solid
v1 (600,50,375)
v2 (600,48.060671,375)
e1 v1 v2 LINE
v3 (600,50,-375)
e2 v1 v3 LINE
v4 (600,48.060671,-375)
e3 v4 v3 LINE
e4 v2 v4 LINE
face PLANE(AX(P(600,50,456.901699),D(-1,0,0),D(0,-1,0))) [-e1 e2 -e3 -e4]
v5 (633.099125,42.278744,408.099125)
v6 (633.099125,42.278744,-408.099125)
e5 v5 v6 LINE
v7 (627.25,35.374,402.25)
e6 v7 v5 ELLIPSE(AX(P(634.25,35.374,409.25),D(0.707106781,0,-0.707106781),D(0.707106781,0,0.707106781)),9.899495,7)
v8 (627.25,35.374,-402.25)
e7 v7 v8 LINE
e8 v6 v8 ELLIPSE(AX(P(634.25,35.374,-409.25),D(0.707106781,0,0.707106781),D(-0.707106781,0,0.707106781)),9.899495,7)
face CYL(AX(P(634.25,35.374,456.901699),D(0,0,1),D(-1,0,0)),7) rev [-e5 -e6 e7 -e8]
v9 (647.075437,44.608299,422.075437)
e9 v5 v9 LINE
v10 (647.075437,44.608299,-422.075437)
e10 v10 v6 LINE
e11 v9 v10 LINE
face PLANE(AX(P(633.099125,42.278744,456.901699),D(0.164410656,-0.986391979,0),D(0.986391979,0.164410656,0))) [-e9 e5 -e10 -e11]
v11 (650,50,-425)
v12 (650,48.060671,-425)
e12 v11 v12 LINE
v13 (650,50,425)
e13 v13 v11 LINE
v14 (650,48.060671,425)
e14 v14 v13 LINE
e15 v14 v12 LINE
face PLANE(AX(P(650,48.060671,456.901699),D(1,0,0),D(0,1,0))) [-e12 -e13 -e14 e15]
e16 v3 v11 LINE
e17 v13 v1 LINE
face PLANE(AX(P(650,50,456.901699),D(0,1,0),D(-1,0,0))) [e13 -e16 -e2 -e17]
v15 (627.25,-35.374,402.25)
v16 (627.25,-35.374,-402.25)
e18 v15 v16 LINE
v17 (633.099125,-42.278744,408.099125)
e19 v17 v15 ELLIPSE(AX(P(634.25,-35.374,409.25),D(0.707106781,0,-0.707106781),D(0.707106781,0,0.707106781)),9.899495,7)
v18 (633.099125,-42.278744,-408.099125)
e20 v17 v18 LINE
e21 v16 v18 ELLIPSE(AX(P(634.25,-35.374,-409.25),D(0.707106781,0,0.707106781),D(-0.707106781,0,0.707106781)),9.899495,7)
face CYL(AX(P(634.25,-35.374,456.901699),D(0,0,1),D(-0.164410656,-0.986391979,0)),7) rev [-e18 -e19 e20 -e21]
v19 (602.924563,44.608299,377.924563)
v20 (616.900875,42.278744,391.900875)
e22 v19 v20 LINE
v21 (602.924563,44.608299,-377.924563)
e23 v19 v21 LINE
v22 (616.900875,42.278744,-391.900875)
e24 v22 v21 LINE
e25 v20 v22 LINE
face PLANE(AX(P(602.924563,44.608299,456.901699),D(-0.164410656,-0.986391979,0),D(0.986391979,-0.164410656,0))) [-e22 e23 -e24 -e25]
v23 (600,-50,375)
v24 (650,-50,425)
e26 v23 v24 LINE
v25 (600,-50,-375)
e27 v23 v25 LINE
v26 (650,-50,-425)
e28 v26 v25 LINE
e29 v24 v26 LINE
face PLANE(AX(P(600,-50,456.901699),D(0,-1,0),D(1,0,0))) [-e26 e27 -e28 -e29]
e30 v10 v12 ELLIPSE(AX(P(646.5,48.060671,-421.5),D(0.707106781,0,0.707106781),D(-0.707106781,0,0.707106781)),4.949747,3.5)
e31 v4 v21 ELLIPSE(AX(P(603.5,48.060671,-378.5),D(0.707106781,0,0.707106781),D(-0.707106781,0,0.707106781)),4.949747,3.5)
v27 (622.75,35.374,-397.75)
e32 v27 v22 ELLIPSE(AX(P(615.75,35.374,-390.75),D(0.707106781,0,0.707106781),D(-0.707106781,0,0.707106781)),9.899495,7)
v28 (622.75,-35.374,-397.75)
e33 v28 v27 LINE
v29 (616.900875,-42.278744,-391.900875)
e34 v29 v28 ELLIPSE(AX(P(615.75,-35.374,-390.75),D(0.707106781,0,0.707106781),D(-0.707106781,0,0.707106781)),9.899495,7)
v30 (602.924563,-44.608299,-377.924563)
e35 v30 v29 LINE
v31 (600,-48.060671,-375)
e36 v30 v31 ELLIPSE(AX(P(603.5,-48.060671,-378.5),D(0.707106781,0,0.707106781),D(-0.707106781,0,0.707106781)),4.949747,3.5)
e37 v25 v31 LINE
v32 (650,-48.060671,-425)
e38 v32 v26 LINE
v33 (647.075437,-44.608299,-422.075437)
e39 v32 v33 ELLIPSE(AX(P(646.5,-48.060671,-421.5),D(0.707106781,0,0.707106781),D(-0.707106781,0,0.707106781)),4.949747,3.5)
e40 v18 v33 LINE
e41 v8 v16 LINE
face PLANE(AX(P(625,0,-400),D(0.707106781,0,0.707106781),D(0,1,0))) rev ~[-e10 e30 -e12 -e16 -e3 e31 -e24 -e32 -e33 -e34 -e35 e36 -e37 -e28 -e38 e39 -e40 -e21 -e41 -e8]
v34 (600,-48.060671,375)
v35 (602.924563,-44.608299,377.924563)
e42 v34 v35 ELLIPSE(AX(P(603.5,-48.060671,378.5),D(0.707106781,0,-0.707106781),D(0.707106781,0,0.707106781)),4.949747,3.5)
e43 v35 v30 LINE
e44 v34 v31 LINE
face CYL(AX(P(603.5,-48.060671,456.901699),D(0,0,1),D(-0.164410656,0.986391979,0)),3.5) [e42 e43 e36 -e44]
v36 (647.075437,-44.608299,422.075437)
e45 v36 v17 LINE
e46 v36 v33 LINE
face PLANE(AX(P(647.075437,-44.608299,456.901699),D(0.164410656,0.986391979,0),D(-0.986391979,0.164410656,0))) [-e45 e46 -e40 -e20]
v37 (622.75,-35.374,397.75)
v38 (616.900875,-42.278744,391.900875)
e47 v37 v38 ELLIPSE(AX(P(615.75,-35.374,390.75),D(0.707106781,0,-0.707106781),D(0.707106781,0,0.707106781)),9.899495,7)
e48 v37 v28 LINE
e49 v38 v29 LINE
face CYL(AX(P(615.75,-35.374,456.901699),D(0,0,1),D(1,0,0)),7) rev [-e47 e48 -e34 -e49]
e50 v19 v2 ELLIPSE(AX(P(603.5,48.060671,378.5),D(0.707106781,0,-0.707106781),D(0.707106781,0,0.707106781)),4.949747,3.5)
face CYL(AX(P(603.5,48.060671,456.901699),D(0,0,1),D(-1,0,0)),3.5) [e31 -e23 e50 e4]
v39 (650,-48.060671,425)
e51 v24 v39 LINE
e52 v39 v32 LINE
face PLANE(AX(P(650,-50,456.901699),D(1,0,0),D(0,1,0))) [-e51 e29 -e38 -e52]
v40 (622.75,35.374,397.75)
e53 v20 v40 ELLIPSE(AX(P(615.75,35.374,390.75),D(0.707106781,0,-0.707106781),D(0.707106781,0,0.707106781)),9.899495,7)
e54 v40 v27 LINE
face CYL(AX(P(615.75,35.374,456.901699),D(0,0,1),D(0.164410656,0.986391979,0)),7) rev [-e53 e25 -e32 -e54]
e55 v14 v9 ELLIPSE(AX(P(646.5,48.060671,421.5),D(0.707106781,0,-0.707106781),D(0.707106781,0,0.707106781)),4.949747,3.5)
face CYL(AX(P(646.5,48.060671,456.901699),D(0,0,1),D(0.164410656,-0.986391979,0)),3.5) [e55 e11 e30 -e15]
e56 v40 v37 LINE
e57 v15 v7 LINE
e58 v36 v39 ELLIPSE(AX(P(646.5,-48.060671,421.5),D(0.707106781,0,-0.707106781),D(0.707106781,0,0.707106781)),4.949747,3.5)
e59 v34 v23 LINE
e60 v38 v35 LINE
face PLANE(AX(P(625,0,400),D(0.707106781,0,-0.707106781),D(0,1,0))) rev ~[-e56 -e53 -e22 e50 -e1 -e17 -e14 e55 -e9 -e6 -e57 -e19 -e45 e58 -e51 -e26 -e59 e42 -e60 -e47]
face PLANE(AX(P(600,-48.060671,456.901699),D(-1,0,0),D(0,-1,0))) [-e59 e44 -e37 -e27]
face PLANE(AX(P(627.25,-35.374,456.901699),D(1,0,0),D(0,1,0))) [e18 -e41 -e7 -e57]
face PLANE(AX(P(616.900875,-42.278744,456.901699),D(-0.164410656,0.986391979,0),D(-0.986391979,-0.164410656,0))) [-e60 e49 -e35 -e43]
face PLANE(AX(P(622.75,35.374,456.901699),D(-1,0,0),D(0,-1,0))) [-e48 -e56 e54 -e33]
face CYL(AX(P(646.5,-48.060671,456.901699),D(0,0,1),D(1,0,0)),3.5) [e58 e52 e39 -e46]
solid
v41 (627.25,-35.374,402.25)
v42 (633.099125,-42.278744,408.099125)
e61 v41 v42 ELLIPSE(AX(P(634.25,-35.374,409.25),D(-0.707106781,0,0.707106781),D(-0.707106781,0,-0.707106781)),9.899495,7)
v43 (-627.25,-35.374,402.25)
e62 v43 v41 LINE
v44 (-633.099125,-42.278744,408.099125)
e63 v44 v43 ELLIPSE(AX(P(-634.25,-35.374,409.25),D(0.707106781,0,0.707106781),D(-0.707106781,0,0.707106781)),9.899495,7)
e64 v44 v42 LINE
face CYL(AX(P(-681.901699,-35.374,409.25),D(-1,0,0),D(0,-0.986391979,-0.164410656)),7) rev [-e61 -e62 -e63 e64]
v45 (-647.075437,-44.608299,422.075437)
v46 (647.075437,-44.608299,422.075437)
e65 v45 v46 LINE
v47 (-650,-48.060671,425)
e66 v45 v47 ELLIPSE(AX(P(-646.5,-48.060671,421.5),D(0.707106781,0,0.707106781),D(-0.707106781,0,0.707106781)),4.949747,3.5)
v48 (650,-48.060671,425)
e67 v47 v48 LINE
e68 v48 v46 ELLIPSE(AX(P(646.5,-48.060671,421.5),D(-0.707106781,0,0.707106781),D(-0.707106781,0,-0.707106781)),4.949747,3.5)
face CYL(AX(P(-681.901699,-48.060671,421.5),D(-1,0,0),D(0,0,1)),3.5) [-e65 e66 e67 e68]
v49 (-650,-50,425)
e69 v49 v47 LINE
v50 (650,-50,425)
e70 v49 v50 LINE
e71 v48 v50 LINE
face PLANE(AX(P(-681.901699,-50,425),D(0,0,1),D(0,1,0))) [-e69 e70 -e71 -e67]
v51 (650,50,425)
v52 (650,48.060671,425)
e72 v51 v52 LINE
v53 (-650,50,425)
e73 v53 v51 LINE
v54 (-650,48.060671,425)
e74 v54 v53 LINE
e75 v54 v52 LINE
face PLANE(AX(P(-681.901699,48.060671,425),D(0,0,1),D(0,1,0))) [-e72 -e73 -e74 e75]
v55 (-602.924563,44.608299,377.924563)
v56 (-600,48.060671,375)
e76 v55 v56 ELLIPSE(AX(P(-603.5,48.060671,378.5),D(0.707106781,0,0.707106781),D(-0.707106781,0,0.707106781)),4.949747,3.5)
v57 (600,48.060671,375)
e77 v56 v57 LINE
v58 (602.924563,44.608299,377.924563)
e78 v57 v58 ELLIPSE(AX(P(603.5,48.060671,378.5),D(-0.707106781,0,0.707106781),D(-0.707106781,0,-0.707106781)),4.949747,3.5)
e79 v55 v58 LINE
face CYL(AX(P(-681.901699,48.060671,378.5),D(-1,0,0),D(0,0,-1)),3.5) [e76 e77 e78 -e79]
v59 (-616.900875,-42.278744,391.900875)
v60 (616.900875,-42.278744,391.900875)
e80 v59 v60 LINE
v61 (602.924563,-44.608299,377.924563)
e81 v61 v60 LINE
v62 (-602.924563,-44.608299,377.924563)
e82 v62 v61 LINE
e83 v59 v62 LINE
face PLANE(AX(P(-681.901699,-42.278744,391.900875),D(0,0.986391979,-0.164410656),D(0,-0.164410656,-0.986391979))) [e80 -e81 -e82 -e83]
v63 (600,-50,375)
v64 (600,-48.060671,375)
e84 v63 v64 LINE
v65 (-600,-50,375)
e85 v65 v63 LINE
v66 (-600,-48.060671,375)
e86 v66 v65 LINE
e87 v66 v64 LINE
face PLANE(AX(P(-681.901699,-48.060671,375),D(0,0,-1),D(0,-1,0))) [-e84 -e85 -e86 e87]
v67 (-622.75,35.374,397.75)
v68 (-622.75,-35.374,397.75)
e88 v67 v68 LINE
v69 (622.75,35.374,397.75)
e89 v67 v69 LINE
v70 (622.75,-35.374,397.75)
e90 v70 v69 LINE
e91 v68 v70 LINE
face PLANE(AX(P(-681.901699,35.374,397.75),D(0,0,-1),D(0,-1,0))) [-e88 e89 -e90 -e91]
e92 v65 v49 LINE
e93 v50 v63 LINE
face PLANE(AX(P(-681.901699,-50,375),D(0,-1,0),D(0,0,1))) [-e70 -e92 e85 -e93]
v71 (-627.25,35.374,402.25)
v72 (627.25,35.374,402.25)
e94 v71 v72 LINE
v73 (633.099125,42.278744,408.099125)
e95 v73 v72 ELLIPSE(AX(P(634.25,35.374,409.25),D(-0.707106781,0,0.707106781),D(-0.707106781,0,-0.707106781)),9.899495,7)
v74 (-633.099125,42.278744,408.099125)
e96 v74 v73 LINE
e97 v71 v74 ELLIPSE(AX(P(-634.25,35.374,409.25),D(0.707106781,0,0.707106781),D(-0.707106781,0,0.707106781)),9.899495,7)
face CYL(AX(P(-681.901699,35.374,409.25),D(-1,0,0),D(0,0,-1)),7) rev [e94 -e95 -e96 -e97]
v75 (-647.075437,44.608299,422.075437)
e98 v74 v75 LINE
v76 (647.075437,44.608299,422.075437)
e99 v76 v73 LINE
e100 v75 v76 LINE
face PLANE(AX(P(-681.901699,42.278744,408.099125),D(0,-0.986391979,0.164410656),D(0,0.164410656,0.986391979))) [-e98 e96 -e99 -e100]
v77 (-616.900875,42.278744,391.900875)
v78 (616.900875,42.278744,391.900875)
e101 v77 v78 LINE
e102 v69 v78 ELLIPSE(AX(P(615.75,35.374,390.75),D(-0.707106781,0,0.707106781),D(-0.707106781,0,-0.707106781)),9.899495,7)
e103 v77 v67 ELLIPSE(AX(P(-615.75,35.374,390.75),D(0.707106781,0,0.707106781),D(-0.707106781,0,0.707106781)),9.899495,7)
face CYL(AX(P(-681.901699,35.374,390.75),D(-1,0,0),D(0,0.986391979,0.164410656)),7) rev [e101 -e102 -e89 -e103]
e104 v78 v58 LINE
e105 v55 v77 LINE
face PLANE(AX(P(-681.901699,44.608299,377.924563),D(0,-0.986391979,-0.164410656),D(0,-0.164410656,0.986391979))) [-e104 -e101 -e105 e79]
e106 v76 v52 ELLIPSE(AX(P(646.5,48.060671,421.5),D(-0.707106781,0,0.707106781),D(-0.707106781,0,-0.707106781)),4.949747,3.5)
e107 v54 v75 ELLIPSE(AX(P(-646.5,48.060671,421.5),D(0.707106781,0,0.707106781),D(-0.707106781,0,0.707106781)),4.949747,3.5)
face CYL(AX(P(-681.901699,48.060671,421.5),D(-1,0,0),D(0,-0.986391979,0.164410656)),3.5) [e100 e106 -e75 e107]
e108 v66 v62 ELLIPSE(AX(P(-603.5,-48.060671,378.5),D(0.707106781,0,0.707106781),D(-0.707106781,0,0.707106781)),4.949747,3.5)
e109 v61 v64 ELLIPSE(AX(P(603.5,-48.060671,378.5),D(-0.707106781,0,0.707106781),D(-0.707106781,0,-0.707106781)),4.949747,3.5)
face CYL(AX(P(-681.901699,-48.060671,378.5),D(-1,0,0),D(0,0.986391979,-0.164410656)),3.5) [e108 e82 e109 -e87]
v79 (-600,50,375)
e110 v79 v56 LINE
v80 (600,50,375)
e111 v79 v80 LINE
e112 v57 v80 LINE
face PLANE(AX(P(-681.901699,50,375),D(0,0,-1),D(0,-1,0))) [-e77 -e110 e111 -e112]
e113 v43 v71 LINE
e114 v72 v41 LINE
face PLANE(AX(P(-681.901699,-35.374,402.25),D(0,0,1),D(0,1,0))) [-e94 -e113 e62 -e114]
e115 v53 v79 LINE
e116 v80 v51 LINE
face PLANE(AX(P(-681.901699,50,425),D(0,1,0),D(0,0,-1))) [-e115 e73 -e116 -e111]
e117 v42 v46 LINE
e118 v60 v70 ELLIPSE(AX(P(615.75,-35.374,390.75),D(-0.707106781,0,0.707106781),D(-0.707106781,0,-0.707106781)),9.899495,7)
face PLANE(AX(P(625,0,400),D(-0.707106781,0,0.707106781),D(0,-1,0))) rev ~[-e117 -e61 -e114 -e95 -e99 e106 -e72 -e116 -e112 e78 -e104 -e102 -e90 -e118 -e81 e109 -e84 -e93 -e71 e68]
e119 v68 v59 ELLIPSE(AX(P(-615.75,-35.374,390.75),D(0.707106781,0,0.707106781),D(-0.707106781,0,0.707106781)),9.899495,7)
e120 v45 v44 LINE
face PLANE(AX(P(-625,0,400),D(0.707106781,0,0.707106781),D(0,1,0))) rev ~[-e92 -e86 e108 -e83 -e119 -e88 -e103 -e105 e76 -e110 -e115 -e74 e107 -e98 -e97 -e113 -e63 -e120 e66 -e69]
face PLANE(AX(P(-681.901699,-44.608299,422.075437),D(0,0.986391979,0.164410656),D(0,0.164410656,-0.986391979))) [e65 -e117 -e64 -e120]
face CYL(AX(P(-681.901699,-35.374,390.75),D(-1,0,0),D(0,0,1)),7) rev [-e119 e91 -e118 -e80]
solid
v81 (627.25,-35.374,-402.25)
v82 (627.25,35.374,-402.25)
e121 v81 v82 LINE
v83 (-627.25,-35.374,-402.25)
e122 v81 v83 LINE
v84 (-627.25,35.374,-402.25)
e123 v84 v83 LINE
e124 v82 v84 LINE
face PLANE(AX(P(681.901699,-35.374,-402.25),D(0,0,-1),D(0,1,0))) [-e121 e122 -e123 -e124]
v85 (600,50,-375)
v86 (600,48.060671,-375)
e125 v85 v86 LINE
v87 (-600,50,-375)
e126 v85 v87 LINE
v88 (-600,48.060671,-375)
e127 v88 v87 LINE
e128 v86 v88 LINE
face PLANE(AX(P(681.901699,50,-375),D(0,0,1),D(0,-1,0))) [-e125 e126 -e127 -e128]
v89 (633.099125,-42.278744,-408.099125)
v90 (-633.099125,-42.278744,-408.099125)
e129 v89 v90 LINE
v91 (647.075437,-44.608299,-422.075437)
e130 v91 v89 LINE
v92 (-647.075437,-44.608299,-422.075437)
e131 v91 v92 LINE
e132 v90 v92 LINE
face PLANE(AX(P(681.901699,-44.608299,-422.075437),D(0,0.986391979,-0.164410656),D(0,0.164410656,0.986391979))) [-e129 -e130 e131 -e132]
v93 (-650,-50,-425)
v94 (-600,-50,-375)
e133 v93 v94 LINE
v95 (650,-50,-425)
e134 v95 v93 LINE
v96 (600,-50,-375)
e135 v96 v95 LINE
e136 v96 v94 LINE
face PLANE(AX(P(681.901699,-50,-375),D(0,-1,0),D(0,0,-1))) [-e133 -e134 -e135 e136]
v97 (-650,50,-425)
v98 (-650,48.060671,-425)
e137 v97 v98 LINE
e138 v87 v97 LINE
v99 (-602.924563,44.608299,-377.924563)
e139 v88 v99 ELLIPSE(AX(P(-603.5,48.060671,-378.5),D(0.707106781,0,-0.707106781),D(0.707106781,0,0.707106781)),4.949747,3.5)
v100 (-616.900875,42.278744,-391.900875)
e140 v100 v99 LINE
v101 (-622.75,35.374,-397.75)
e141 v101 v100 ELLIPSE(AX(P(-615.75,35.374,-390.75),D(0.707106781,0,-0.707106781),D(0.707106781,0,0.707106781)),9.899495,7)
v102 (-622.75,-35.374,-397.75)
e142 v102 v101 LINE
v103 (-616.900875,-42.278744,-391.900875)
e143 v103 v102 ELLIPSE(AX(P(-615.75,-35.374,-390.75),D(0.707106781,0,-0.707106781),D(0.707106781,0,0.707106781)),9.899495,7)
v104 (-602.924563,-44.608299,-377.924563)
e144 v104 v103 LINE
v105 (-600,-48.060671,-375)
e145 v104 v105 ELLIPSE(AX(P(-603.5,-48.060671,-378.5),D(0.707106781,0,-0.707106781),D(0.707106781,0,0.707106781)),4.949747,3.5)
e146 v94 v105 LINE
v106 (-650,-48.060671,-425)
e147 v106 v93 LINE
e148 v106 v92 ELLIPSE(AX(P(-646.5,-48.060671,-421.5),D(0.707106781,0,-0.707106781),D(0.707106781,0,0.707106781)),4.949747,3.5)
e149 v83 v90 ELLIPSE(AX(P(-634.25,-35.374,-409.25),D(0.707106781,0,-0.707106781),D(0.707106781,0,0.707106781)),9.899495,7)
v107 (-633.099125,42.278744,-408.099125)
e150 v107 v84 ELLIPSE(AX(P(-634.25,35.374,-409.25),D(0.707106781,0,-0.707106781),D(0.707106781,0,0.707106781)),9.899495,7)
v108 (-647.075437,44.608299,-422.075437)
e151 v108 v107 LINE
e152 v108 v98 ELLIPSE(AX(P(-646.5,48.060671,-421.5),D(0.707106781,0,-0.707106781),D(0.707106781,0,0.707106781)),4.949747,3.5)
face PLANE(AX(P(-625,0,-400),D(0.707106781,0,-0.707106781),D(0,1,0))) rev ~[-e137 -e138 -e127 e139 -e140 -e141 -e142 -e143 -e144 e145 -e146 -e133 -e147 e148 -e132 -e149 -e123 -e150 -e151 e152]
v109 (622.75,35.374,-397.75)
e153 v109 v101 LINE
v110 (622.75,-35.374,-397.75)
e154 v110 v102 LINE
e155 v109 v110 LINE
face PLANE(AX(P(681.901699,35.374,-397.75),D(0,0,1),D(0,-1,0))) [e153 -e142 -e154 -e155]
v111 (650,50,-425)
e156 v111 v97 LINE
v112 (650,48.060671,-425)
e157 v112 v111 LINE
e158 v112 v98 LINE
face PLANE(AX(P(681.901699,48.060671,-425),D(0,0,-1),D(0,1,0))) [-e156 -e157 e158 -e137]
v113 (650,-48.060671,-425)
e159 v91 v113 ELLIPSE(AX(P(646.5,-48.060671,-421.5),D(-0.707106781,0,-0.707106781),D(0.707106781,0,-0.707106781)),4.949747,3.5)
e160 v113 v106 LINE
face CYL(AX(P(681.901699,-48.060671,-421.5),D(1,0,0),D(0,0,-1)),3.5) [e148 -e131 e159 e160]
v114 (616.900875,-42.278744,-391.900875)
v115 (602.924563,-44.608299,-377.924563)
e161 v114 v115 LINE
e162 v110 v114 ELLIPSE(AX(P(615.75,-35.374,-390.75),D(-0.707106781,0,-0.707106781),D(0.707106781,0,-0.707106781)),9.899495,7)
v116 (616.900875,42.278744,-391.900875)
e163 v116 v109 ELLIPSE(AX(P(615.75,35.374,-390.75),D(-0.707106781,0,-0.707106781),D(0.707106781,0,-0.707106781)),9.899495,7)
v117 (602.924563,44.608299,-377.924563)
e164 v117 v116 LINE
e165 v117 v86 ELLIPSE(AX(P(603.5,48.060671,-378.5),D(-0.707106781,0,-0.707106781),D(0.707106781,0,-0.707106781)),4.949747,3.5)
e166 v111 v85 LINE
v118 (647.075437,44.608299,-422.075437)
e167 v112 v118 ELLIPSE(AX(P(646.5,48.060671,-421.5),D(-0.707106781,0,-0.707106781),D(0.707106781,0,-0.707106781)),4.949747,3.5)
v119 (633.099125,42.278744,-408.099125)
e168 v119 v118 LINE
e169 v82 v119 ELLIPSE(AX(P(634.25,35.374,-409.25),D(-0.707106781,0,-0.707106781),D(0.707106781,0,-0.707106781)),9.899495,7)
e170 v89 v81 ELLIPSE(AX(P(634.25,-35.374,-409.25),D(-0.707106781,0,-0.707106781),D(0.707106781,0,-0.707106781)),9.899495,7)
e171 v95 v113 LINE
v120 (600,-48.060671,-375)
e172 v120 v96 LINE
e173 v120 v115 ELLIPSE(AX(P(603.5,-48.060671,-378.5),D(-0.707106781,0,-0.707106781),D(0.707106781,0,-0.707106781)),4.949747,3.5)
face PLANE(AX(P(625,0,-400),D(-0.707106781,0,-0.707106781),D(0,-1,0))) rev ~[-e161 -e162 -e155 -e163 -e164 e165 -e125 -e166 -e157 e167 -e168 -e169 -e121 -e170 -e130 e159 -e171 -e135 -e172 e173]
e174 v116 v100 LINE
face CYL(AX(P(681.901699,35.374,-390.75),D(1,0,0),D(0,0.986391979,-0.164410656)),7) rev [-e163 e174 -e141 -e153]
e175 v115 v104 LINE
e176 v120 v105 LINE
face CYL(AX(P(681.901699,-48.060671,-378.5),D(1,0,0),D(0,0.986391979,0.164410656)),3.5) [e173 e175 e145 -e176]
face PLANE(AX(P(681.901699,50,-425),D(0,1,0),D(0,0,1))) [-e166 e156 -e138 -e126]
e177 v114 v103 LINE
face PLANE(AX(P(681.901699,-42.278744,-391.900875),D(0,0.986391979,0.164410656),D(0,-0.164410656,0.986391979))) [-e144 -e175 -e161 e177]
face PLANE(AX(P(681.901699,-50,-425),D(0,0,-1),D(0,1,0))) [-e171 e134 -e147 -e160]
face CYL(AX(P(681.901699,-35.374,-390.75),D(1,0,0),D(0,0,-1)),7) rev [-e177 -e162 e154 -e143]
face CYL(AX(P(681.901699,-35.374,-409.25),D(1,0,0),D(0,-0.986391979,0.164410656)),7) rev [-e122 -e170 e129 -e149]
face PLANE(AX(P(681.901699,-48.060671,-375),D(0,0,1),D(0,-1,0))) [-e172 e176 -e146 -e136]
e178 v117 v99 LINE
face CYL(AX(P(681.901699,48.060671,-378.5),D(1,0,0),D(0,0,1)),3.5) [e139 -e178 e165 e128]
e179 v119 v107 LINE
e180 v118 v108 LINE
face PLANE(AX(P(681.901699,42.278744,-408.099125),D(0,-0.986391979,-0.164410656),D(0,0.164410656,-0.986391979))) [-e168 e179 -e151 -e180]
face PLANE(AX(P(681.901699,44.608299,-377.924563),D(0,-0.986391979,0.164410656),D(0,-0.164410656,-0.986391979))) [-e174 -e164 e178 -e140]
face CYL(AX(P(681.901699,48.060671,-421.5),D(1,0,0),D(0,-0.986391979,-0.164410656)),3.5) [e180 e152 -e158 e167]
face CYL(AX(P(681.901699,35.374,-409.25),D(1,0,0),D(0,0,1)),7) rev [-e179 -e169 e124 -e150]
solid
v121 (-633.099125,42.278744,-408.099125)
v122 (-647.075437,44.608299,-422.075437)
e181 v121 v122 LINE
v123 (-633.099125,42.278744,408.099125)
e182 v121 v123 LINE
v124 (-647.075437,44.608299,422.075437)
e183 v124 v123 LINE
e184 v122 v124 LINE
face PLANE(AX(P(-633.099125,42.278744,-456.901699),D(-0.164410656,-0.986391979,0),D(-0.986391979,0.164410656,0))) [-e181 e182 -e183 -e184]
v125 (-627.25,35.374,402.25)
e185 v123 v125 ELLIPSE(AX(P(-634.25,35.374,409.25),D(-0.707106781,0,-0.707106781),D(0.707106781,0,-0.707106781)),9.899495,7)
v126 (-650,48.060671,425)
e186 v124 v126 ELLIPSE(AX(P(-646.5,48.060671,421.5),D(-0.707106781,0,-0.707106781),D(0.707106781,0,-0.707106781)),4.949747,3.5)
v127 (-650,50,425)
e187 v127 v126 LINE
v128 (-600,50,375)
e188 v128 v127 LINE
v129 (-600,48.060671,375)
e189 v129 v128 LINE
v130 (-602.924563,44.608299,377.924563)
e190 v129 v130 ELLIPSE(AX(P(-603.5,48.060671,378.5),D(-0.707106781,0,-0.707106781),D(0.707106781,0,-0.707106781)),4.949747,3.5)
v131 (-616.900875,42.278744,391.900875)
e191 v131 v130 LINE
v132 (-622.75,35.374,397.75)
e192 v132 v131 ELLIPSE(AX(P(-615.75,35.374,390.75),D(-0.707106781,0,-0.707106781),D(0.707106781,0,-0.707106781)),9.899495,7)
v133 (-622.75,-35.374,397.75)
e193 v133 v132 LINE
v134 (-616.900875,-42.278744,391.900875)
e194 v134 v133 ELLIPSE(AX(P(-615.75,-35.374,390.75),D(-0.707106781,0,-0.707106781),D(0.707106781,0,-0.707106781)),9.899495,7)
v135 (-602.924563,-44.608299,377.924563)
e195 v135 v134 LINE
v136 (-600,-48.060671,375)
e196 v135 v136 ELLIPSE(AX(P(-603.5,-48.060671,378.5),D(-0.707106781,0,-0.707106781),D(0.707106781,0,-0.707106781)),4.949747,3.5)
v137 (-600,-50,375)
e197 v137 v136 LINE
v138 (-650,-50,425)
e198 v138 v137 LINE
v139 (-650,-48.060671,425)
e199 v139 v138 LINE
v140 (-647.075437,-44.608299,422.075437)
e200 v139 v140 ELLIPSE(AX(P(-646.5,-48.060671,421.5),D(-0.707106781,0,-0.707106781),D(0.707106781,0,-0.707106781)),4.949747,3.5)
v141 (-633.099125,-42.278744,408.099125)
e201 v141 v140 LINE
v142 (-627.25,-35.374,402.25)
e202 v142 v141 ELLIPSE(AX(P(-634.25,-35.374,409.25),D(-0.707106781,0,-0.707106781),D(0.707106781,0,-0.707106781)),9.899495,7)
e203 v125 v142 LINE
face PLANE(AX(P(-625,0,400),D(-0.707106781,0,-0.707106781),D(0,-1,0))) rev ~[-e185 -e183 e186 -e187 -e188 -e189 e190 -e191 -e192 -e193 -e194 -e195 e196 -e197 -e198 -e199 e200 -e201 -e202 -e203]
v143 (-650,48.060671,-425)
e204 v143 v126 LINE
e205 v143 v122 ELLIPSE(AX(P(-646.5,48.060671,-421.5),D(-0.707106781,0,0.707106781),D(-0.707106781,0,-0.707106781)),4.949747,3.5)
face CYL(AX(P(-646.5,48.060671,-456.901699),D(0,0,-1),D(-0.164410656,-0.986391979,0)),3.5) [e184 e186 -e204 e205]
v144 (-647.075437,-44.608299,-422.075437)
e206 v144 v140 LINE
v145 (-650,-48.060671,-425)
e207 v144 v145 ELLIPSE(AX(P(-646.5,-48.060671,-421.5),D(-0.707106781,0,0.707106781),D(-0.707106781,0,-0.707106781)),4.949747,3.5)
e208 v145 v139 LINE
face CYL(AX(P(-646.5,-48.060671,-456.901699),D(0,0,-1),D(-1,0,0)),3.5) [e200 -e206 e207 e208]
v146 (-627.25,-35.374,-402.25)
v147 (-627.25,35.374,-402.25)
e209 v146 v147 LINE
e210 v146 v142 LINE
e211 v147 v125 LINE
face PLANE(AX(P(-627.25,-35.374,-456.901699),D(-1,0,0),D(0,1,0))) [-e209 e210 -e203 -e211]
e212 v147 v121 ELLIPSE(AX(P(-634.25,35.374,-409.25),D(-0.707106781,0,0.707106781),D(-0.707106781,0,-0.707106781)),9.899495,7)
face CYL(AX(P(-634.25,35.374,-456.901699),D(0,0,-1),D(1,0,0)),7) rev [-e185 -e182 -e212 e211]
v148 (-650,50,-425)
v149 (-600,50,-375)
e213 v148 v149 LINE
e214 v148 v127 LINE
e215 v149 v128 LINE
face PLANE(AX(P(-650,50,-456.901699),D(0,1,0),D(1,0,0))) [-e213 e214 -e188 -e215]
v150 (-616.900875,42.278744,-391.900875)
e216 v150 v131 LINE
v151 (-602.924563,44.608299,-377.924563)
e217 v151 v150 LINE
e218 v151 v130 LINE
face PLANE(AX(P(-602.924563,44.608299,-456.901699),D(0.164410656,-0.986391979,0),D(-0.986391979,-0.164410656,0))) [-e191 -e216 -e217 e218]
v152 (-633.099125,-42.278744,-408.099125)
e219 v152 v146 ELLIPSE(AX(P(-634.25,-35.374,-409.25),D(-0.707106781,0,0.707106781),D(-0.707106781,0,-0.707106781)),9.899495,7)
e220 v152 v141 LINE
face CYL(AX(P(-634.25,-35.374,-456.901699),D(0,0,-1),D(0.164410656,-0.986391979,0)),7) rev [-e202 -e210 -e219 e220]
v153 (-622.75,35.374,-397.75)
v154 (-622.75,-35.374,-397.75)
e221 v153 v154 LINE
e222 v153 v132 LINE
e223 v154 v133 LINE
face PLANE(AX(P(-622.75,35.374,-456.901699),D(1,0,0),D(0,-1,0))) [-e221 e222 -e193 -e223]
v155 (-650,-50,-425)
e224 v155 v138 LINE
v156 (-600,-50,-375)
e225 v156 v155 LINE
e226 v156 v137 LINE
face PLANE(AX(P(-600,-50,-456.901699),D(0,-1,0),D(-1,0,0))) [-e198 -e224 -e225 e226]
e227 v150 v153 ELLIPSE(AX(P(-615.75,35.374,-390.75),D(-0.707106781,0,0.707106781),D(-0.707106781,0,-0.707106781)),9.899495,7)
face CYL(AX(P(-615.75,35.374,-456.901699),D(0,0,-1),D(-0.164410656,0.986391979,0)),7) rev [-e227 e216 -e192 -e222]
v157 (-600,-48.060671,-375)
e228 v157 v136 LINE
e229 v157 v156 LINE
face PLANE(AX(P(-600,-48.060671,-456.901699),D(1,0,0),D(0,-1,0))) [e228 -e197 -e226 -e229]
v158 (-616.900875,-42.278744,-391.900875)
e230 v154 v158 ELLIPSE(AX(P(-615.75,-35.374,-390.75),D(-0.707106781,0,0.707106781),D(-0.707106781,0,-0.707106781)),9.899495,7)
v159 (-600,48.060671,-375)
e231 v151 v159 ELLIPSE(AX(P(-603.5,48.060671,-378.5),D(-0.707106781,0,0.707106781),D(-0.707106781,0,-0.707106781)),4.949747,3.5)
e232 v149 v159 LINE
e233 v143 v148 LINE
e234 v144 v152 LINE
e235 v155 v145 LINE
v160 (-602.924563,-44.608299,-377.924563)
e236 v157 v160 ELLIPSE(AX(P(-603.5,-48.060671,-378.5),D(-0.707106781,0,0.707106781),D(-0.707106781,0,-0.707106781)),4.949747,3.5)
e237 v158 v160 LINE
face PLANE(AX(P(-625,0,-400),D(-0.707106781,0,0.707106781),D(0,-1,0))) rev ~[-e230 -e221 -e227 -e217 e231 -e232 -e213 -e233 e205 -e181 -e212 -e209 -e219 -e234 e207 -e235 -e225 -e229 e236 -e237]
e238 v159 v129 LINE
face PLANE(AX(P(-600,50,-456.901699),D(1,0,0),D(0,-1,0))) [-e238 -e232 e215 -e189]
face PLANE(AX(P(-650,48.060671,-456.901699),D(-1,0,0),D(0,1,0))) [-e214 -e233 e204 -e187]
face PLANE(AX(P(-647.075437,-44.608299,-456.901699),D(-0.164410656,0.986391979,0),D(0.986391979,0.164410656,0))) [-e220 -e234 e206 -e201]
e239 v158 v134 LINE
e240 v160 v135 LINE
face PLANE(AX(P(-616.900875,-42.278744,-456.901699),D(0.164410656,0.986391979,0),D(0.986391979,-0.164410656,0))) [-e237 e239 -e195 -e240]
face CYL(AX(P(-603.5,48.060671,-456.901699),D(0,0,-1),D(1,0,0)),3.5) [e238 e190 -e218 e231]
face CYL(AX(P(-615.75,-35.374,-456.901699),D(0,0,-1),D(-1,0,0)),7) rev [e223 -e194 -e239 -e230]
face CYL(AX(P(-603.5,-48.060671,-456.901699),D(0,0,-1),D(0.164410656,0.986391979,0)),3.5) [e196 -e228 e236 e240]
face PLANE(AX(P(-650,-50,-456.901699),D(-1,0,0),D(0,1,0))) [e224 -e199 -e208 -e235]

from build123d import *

# Parameters (mm, degrees)
SB_BEAM_100_X_8_1_DEPTH      = 856.901699437
SB_BEAM_100_X_8_1_DEPTH_BACK = 56.901699437
SB_BEAM_100_X_8_1_2_DEPTH    = 1363.803398875
SB_BEAM_100_X_8_1_3_DEPTH    = 913.803398875
SB_BEAM_100_X_8_1_4_DEPTH    = 1363.803398875


with BuildPart() as part:
    # Sketch11 → Sb beam 100 X 8(1) (new, two sides: drawn at the far end of the back side and taken through both)
    with BuildSketch(Plane(origin=(-625, 0, -400), x_dir=(1, 0, 0), z_dir=(0, 0, 1)).offset(-SB_BEAM_100_X_8_1_DEPTH_BACK)):
        with BuildLine():
            Line((-25, -50), (-25, -48.060671023))
            ThreePointArc((-25, -48.060671023), (-24.17058332, -45.798374682), (-22.075437296, -44.608299096))
            Line((-22.075437296, -44.608299096), (-8.099125408, -42.278743853))
            ThreePointArc((-8.099125408, -42.278743853), (-3.90883336, -39.898592681), (-2.25, -35.374))
            Line((-2.25, -35.374), (-2.25, 35.374))
            ThreePointArc((-2.25, 35.374), (-3.90883336, 39.898592681), (-8.099125408, 42.278743853))
            Line((-8.099125408, 42.278743853), (-22.075437296, 44.608299096))
            ThreePointArc((-22.075437296, 44.608299096), (-24.17058332, 45.798374682), (-25, 48.060671023))
            Line((-25, 48.060671023), (-25, 50))
            Line((-25, 50), (25, 50))
            Line((25, 50), (25, 48.060671023))
            ThreePointArc((25, 48.060671023), (24.17058332, 45.798374682), (22.075437296, 44.608299096))
            Line((22.075437296, 44.608299096), (8.099125408, 42.278743853))
            ThreePointArc((8.099125408, 42.278743853), (3.90883336, 39.898592681), (2.25, 35.374))
            Line((2.25, 35.374), (2.25, -35.374))
            ThreePointArc((2.25, -35.374), (3.90883336, -39.898592681), (8.099125408, -42.278743853))
            Line((8.099125408, -42.278743853), (22.075437296, -44.608299096))
            ThreePointArc((22.075437296, -44.608299096), (24.17058332, -45.798374682), (25, -48.060671023))
            Line((25, -48.060671023), (25, -50))
            Line((25, -50), (-25, -50))
        make_face()
    extrude(amount=SB_BEAM_100_X_8_1_DEPTH + SB_BEAM_100_X_8_1_DEPTH_BACK)

    # Sb beam 100 X 8(1) mitre 1
    split(bisect_by=Plane(origin=(-625, 0, -400), x_dir=(0, -1, 0), z_dir=(-0.707106781, 0, 0.707106781)), keep=Keep.TOP)

    # Sb beam 100 X 8(1) mitre 2
    split(bisect_by=Plane(origin=(-625, 0, 400), x_dir=(0, -1, 0), z_dir=(-0.707106781, 0, -0.707106781)), keep=Keep.TOP)


with BuildPart() as body_2:
    # Sketch11 on segment 2 (carried to segment 2) → Sb beam 100 X 8_1 2 (new body)
    with BuildSketch(Plane(origin=(-681.901699437, 0, 400), x_dir=(0, 0, -1), z_dir=(1, 0, 0))):
        with BuildLine():
            Line((-25, -50), (-25, -48.060671023))
            ThreePointArc((-25, -48.060671023), (-24.17058332, -45.798374682), (-22.075437296, -44.608299096))
            Line((-22.075437296, -44.608299096), (-8.099125408, -42.278743853))
            ThreePointArc((-8.099125408, -42.278743853), (-3.90883336, -39.898592681), (-2.25, -35.374))
            Line((-2.25, -35.374), (-2.25, 35.374))
            ThreePointArc((-2.25, 35.374), (-3.90883336, 39.898592681), (-8.099125408, 42.278743853))
            Line((-8.099125408, 42.278743853), (-22.075437296, 44.608299096))
            ThreePointArc((-22.075437296, 44.608299096), (-24.17058332, 45.798374682), (-25, 48.060671023))
            Line((-25, 48.060671023), (-25, 50))
            Line((-25, 50), (25, 50))
            Line((25, 50), (25, 48.060671023))
            ThreePointArc((25, 48.060671023), (24.17058332, 45.798374682), (22.075437296, 44.608299096))
            Line((22.075437296, 44.608299096), (8.099125408, 42.278743853))
            ThreePointArc((8.099125408, 42.278743853), (3.90883336, 39.898592681), (2.25, 35.374))
            Line((2.25, 35.374), (2.25, -35.374))
            ThreePointArc((2.25, -35.374), (3.90883336, -39.898592681), (8.099125408, -42.278743853))
            Line((8.099125408, -42.278743853), (22.075437296, -44.608299096))
            ThreePointArc((22.075437296, -44.608299096), (24.17058332, -45.798374682), (25, -48.060671023))
            Line((25, -48.060671023), (25, -50))
            Line((25, -50), (-25, -50))
        make_face()
    extrude(amount=SB_BEAM_100_X_8_1_2_DEPTH)

    # Sb beam 100 X 8_1 2 mitre 1
    split(bisect_by=Plane(origin=(-625, 0, 400), x_dir=(0, 1, 0), z_dir=(0.707106781, 0, 0.707106781)), keep=Keep.TOP)

    # Sb beam 100 X 8_1 2 mitre 2
    split(bisect_by=Plane(origin=(625, 0, 400), x_dir=(0, -1, 0), z_dir=(-0.707106781, 0, 0.707106781)), keep=Keep.TOP)


with BuildPart() as body_3:
    # Sketch11 on segment 3 (carried to segment 3) → Sb beam 100 X 8_1 3 (new body)
    with BuildSketch(Plane(origin=(625, 0, 456.901699437), x_dir=(-1, 0, 0), z_dir=(0, 0, -1))):
        with BuildLine():
            Line((-25, -50), (-25, -48.060671023))
            ThreePointArc((-25, -48.060671023), (-24.17058332, -45.798374682), (-22.075437296, -44.608299096))
            Line((-22.075437296, -44.608299096), (-8.099125408, -42.278743853))
            ThreePointArc((-8.099125408, -42.278743853), (-3.90883336, -39.898592681), (-2.25, -35.374))
            Line((-2.25, -35.374), (-2.25, 35.374))
            ThreePointArc((-2.25, 35.374), (-3.90883336, 39.898592681), (-8.099125408, 42.278743853))
            Line((-8.099125408, 42.278743853), (-22.075437296, 44.608299096))
            ThreePointArc((-22.075437296, 44.608299096), (-24.17058332, 45.798374682), (-25, 48.060671023))
            Line((-25, 48.060671023), (-25, 50))
            Line((-25, 50), (25, 50))
            Line((25, 50), (25, 48.060671023))
            ThreePointArc((25, 48.060671023), (24.17058332, 45.798374682), (22.075437296, 44.608299096))
            Line((22.075437296, 44.608299096), (8.099125408, 42.278743853))
            ThreePointArc((8.099125408, 42.278743853), (3.90883336, 39.898592681), (2.25, 35.374))
            Line((2.25, 35.374), (2.25, -35.374))
            ThreePointArc((2.25, -35.374), (3.90883336, -39.898592681), (8.099125408, -42.278743853))
            Line((8.099125408, -42.278743853), (22.075437296, -44.608299096))
            ThreePointArc((22.075437296, -44.608299096), (24.17058332, -45.798374682), (25, -48.060671023))
            Line((25, -48.060671023), (25, -50))
            Line((25, -50), (-25, -50))
        make_face()
    extrude(amount=SB_BEAM_100_X_8_1_3_DEPTH)

    # Sb beam 100 X 8_1 3 mitre 1
    split(bisect_by=Plane(origin=(625, 0, -400), x_dir=(0, 1, 0), z_dir=(0.707106781, 0, 0.707106781)), keep=Keep.TOP)

    # Sb beam 100 X 8_1 3 mitre 2
    split(bisect_by=Plane(origin=(625, 0, 400), x_dir=(0, 1, 0), z_dir=(0.707106781, 0, -0.707106781)), keep=Keep.TOP)


with BuildPart() as body_4:
    # Sketch11 on segment 4 (carried to segment 4) → Sb beam 100 X 8_1 4 (new body)
    with BuildSketch(Plane(origin=(681.901699437, 0, -400), x_dir=(0, 0, 1), z_dir=(-1, 0, 0))):
        with BuildLine():
            Line((-25, -50), (-25, -48.060671023))
            ThreePointArc((-25, -48.060671023), (-24.17058332, -45.798374682), (-22.075437296, -44.608299096))
            Line((-22.075437296, -44.608299096), (-8.099125408, -42.278743853))
            ThreePointArc((-8.099125408, -42.278743853), (-3.90883336, -39.898592681), (-2.25, -35.374))
            Line((-2.25, -35.374), (-2.25, 35.374))
            ThreePointArc((-2.25, 35.374), (-3.90883336, 39.898592681), (-8.099125408, 42.278743853))
            Line((-8.099125408, 42.278743853), (-22.075437296, 44.608299096))
            ThreePointArc((-22.075437296, 44.608299096), (-24.17058332, 45.798374682), (-25, 48.060671023))
            Line((-25, 48.060671023), (-25, 50))
            Line((-25, 50), (25, 50))
            Line((25, 50), (25, 48.060671023))
            ThreePointArc((25, 48.060671023), (24.17058332, 45.798374682), (22.075437296, 44.608299096))
            Line((22.075437296, 44.608299096), (8.099125408, 42.278743853))
            ThreePointArc((8.099125408, 42.278743853), (3.90883336, 39.898592681), (2.25, 35.374))
            Line((2.25, 35.374), (2.25, -35.374))
            ThreePointArc((2.25, -35.374), (3.90883336, -39.898592681), (8.099125408, -42.278743853))
            Line((8.099125408, -42.278743853), (22.075437296, -44.608299096))
            ThreePointArc((22.075437296, -44.608299096), (24.17058332, -45.798374682), (25, -48.060671023))
            Line((25, -48.060671023), (25, -50))
            Line((25, -50), (-25, -50))
        make_face()
    extrude(amount=SB_BEAM_100_X_8_1_4_DEPTH)

    # Sb beam 100 X 8_1 4 mitre 1
    split(bisect_by=Plane(origin=(-625, 0, -400), x_dir=(0, 1, 0), z_dir=(0.707106781, 0, -0.707106781)), keep=Keep.TOP)

    # Sb beam 100 X 8_1 4 mitre 2
    split(bisect_by=Plane(origin=(625, 0, -400), x_dir=(0, -1, 0), z_dir=(-0.707106781, 0, -0.707106781)), keep=Keep.TOP)


solid = Compound([part.part, body_2.part, body_3.part, body_4.part])
